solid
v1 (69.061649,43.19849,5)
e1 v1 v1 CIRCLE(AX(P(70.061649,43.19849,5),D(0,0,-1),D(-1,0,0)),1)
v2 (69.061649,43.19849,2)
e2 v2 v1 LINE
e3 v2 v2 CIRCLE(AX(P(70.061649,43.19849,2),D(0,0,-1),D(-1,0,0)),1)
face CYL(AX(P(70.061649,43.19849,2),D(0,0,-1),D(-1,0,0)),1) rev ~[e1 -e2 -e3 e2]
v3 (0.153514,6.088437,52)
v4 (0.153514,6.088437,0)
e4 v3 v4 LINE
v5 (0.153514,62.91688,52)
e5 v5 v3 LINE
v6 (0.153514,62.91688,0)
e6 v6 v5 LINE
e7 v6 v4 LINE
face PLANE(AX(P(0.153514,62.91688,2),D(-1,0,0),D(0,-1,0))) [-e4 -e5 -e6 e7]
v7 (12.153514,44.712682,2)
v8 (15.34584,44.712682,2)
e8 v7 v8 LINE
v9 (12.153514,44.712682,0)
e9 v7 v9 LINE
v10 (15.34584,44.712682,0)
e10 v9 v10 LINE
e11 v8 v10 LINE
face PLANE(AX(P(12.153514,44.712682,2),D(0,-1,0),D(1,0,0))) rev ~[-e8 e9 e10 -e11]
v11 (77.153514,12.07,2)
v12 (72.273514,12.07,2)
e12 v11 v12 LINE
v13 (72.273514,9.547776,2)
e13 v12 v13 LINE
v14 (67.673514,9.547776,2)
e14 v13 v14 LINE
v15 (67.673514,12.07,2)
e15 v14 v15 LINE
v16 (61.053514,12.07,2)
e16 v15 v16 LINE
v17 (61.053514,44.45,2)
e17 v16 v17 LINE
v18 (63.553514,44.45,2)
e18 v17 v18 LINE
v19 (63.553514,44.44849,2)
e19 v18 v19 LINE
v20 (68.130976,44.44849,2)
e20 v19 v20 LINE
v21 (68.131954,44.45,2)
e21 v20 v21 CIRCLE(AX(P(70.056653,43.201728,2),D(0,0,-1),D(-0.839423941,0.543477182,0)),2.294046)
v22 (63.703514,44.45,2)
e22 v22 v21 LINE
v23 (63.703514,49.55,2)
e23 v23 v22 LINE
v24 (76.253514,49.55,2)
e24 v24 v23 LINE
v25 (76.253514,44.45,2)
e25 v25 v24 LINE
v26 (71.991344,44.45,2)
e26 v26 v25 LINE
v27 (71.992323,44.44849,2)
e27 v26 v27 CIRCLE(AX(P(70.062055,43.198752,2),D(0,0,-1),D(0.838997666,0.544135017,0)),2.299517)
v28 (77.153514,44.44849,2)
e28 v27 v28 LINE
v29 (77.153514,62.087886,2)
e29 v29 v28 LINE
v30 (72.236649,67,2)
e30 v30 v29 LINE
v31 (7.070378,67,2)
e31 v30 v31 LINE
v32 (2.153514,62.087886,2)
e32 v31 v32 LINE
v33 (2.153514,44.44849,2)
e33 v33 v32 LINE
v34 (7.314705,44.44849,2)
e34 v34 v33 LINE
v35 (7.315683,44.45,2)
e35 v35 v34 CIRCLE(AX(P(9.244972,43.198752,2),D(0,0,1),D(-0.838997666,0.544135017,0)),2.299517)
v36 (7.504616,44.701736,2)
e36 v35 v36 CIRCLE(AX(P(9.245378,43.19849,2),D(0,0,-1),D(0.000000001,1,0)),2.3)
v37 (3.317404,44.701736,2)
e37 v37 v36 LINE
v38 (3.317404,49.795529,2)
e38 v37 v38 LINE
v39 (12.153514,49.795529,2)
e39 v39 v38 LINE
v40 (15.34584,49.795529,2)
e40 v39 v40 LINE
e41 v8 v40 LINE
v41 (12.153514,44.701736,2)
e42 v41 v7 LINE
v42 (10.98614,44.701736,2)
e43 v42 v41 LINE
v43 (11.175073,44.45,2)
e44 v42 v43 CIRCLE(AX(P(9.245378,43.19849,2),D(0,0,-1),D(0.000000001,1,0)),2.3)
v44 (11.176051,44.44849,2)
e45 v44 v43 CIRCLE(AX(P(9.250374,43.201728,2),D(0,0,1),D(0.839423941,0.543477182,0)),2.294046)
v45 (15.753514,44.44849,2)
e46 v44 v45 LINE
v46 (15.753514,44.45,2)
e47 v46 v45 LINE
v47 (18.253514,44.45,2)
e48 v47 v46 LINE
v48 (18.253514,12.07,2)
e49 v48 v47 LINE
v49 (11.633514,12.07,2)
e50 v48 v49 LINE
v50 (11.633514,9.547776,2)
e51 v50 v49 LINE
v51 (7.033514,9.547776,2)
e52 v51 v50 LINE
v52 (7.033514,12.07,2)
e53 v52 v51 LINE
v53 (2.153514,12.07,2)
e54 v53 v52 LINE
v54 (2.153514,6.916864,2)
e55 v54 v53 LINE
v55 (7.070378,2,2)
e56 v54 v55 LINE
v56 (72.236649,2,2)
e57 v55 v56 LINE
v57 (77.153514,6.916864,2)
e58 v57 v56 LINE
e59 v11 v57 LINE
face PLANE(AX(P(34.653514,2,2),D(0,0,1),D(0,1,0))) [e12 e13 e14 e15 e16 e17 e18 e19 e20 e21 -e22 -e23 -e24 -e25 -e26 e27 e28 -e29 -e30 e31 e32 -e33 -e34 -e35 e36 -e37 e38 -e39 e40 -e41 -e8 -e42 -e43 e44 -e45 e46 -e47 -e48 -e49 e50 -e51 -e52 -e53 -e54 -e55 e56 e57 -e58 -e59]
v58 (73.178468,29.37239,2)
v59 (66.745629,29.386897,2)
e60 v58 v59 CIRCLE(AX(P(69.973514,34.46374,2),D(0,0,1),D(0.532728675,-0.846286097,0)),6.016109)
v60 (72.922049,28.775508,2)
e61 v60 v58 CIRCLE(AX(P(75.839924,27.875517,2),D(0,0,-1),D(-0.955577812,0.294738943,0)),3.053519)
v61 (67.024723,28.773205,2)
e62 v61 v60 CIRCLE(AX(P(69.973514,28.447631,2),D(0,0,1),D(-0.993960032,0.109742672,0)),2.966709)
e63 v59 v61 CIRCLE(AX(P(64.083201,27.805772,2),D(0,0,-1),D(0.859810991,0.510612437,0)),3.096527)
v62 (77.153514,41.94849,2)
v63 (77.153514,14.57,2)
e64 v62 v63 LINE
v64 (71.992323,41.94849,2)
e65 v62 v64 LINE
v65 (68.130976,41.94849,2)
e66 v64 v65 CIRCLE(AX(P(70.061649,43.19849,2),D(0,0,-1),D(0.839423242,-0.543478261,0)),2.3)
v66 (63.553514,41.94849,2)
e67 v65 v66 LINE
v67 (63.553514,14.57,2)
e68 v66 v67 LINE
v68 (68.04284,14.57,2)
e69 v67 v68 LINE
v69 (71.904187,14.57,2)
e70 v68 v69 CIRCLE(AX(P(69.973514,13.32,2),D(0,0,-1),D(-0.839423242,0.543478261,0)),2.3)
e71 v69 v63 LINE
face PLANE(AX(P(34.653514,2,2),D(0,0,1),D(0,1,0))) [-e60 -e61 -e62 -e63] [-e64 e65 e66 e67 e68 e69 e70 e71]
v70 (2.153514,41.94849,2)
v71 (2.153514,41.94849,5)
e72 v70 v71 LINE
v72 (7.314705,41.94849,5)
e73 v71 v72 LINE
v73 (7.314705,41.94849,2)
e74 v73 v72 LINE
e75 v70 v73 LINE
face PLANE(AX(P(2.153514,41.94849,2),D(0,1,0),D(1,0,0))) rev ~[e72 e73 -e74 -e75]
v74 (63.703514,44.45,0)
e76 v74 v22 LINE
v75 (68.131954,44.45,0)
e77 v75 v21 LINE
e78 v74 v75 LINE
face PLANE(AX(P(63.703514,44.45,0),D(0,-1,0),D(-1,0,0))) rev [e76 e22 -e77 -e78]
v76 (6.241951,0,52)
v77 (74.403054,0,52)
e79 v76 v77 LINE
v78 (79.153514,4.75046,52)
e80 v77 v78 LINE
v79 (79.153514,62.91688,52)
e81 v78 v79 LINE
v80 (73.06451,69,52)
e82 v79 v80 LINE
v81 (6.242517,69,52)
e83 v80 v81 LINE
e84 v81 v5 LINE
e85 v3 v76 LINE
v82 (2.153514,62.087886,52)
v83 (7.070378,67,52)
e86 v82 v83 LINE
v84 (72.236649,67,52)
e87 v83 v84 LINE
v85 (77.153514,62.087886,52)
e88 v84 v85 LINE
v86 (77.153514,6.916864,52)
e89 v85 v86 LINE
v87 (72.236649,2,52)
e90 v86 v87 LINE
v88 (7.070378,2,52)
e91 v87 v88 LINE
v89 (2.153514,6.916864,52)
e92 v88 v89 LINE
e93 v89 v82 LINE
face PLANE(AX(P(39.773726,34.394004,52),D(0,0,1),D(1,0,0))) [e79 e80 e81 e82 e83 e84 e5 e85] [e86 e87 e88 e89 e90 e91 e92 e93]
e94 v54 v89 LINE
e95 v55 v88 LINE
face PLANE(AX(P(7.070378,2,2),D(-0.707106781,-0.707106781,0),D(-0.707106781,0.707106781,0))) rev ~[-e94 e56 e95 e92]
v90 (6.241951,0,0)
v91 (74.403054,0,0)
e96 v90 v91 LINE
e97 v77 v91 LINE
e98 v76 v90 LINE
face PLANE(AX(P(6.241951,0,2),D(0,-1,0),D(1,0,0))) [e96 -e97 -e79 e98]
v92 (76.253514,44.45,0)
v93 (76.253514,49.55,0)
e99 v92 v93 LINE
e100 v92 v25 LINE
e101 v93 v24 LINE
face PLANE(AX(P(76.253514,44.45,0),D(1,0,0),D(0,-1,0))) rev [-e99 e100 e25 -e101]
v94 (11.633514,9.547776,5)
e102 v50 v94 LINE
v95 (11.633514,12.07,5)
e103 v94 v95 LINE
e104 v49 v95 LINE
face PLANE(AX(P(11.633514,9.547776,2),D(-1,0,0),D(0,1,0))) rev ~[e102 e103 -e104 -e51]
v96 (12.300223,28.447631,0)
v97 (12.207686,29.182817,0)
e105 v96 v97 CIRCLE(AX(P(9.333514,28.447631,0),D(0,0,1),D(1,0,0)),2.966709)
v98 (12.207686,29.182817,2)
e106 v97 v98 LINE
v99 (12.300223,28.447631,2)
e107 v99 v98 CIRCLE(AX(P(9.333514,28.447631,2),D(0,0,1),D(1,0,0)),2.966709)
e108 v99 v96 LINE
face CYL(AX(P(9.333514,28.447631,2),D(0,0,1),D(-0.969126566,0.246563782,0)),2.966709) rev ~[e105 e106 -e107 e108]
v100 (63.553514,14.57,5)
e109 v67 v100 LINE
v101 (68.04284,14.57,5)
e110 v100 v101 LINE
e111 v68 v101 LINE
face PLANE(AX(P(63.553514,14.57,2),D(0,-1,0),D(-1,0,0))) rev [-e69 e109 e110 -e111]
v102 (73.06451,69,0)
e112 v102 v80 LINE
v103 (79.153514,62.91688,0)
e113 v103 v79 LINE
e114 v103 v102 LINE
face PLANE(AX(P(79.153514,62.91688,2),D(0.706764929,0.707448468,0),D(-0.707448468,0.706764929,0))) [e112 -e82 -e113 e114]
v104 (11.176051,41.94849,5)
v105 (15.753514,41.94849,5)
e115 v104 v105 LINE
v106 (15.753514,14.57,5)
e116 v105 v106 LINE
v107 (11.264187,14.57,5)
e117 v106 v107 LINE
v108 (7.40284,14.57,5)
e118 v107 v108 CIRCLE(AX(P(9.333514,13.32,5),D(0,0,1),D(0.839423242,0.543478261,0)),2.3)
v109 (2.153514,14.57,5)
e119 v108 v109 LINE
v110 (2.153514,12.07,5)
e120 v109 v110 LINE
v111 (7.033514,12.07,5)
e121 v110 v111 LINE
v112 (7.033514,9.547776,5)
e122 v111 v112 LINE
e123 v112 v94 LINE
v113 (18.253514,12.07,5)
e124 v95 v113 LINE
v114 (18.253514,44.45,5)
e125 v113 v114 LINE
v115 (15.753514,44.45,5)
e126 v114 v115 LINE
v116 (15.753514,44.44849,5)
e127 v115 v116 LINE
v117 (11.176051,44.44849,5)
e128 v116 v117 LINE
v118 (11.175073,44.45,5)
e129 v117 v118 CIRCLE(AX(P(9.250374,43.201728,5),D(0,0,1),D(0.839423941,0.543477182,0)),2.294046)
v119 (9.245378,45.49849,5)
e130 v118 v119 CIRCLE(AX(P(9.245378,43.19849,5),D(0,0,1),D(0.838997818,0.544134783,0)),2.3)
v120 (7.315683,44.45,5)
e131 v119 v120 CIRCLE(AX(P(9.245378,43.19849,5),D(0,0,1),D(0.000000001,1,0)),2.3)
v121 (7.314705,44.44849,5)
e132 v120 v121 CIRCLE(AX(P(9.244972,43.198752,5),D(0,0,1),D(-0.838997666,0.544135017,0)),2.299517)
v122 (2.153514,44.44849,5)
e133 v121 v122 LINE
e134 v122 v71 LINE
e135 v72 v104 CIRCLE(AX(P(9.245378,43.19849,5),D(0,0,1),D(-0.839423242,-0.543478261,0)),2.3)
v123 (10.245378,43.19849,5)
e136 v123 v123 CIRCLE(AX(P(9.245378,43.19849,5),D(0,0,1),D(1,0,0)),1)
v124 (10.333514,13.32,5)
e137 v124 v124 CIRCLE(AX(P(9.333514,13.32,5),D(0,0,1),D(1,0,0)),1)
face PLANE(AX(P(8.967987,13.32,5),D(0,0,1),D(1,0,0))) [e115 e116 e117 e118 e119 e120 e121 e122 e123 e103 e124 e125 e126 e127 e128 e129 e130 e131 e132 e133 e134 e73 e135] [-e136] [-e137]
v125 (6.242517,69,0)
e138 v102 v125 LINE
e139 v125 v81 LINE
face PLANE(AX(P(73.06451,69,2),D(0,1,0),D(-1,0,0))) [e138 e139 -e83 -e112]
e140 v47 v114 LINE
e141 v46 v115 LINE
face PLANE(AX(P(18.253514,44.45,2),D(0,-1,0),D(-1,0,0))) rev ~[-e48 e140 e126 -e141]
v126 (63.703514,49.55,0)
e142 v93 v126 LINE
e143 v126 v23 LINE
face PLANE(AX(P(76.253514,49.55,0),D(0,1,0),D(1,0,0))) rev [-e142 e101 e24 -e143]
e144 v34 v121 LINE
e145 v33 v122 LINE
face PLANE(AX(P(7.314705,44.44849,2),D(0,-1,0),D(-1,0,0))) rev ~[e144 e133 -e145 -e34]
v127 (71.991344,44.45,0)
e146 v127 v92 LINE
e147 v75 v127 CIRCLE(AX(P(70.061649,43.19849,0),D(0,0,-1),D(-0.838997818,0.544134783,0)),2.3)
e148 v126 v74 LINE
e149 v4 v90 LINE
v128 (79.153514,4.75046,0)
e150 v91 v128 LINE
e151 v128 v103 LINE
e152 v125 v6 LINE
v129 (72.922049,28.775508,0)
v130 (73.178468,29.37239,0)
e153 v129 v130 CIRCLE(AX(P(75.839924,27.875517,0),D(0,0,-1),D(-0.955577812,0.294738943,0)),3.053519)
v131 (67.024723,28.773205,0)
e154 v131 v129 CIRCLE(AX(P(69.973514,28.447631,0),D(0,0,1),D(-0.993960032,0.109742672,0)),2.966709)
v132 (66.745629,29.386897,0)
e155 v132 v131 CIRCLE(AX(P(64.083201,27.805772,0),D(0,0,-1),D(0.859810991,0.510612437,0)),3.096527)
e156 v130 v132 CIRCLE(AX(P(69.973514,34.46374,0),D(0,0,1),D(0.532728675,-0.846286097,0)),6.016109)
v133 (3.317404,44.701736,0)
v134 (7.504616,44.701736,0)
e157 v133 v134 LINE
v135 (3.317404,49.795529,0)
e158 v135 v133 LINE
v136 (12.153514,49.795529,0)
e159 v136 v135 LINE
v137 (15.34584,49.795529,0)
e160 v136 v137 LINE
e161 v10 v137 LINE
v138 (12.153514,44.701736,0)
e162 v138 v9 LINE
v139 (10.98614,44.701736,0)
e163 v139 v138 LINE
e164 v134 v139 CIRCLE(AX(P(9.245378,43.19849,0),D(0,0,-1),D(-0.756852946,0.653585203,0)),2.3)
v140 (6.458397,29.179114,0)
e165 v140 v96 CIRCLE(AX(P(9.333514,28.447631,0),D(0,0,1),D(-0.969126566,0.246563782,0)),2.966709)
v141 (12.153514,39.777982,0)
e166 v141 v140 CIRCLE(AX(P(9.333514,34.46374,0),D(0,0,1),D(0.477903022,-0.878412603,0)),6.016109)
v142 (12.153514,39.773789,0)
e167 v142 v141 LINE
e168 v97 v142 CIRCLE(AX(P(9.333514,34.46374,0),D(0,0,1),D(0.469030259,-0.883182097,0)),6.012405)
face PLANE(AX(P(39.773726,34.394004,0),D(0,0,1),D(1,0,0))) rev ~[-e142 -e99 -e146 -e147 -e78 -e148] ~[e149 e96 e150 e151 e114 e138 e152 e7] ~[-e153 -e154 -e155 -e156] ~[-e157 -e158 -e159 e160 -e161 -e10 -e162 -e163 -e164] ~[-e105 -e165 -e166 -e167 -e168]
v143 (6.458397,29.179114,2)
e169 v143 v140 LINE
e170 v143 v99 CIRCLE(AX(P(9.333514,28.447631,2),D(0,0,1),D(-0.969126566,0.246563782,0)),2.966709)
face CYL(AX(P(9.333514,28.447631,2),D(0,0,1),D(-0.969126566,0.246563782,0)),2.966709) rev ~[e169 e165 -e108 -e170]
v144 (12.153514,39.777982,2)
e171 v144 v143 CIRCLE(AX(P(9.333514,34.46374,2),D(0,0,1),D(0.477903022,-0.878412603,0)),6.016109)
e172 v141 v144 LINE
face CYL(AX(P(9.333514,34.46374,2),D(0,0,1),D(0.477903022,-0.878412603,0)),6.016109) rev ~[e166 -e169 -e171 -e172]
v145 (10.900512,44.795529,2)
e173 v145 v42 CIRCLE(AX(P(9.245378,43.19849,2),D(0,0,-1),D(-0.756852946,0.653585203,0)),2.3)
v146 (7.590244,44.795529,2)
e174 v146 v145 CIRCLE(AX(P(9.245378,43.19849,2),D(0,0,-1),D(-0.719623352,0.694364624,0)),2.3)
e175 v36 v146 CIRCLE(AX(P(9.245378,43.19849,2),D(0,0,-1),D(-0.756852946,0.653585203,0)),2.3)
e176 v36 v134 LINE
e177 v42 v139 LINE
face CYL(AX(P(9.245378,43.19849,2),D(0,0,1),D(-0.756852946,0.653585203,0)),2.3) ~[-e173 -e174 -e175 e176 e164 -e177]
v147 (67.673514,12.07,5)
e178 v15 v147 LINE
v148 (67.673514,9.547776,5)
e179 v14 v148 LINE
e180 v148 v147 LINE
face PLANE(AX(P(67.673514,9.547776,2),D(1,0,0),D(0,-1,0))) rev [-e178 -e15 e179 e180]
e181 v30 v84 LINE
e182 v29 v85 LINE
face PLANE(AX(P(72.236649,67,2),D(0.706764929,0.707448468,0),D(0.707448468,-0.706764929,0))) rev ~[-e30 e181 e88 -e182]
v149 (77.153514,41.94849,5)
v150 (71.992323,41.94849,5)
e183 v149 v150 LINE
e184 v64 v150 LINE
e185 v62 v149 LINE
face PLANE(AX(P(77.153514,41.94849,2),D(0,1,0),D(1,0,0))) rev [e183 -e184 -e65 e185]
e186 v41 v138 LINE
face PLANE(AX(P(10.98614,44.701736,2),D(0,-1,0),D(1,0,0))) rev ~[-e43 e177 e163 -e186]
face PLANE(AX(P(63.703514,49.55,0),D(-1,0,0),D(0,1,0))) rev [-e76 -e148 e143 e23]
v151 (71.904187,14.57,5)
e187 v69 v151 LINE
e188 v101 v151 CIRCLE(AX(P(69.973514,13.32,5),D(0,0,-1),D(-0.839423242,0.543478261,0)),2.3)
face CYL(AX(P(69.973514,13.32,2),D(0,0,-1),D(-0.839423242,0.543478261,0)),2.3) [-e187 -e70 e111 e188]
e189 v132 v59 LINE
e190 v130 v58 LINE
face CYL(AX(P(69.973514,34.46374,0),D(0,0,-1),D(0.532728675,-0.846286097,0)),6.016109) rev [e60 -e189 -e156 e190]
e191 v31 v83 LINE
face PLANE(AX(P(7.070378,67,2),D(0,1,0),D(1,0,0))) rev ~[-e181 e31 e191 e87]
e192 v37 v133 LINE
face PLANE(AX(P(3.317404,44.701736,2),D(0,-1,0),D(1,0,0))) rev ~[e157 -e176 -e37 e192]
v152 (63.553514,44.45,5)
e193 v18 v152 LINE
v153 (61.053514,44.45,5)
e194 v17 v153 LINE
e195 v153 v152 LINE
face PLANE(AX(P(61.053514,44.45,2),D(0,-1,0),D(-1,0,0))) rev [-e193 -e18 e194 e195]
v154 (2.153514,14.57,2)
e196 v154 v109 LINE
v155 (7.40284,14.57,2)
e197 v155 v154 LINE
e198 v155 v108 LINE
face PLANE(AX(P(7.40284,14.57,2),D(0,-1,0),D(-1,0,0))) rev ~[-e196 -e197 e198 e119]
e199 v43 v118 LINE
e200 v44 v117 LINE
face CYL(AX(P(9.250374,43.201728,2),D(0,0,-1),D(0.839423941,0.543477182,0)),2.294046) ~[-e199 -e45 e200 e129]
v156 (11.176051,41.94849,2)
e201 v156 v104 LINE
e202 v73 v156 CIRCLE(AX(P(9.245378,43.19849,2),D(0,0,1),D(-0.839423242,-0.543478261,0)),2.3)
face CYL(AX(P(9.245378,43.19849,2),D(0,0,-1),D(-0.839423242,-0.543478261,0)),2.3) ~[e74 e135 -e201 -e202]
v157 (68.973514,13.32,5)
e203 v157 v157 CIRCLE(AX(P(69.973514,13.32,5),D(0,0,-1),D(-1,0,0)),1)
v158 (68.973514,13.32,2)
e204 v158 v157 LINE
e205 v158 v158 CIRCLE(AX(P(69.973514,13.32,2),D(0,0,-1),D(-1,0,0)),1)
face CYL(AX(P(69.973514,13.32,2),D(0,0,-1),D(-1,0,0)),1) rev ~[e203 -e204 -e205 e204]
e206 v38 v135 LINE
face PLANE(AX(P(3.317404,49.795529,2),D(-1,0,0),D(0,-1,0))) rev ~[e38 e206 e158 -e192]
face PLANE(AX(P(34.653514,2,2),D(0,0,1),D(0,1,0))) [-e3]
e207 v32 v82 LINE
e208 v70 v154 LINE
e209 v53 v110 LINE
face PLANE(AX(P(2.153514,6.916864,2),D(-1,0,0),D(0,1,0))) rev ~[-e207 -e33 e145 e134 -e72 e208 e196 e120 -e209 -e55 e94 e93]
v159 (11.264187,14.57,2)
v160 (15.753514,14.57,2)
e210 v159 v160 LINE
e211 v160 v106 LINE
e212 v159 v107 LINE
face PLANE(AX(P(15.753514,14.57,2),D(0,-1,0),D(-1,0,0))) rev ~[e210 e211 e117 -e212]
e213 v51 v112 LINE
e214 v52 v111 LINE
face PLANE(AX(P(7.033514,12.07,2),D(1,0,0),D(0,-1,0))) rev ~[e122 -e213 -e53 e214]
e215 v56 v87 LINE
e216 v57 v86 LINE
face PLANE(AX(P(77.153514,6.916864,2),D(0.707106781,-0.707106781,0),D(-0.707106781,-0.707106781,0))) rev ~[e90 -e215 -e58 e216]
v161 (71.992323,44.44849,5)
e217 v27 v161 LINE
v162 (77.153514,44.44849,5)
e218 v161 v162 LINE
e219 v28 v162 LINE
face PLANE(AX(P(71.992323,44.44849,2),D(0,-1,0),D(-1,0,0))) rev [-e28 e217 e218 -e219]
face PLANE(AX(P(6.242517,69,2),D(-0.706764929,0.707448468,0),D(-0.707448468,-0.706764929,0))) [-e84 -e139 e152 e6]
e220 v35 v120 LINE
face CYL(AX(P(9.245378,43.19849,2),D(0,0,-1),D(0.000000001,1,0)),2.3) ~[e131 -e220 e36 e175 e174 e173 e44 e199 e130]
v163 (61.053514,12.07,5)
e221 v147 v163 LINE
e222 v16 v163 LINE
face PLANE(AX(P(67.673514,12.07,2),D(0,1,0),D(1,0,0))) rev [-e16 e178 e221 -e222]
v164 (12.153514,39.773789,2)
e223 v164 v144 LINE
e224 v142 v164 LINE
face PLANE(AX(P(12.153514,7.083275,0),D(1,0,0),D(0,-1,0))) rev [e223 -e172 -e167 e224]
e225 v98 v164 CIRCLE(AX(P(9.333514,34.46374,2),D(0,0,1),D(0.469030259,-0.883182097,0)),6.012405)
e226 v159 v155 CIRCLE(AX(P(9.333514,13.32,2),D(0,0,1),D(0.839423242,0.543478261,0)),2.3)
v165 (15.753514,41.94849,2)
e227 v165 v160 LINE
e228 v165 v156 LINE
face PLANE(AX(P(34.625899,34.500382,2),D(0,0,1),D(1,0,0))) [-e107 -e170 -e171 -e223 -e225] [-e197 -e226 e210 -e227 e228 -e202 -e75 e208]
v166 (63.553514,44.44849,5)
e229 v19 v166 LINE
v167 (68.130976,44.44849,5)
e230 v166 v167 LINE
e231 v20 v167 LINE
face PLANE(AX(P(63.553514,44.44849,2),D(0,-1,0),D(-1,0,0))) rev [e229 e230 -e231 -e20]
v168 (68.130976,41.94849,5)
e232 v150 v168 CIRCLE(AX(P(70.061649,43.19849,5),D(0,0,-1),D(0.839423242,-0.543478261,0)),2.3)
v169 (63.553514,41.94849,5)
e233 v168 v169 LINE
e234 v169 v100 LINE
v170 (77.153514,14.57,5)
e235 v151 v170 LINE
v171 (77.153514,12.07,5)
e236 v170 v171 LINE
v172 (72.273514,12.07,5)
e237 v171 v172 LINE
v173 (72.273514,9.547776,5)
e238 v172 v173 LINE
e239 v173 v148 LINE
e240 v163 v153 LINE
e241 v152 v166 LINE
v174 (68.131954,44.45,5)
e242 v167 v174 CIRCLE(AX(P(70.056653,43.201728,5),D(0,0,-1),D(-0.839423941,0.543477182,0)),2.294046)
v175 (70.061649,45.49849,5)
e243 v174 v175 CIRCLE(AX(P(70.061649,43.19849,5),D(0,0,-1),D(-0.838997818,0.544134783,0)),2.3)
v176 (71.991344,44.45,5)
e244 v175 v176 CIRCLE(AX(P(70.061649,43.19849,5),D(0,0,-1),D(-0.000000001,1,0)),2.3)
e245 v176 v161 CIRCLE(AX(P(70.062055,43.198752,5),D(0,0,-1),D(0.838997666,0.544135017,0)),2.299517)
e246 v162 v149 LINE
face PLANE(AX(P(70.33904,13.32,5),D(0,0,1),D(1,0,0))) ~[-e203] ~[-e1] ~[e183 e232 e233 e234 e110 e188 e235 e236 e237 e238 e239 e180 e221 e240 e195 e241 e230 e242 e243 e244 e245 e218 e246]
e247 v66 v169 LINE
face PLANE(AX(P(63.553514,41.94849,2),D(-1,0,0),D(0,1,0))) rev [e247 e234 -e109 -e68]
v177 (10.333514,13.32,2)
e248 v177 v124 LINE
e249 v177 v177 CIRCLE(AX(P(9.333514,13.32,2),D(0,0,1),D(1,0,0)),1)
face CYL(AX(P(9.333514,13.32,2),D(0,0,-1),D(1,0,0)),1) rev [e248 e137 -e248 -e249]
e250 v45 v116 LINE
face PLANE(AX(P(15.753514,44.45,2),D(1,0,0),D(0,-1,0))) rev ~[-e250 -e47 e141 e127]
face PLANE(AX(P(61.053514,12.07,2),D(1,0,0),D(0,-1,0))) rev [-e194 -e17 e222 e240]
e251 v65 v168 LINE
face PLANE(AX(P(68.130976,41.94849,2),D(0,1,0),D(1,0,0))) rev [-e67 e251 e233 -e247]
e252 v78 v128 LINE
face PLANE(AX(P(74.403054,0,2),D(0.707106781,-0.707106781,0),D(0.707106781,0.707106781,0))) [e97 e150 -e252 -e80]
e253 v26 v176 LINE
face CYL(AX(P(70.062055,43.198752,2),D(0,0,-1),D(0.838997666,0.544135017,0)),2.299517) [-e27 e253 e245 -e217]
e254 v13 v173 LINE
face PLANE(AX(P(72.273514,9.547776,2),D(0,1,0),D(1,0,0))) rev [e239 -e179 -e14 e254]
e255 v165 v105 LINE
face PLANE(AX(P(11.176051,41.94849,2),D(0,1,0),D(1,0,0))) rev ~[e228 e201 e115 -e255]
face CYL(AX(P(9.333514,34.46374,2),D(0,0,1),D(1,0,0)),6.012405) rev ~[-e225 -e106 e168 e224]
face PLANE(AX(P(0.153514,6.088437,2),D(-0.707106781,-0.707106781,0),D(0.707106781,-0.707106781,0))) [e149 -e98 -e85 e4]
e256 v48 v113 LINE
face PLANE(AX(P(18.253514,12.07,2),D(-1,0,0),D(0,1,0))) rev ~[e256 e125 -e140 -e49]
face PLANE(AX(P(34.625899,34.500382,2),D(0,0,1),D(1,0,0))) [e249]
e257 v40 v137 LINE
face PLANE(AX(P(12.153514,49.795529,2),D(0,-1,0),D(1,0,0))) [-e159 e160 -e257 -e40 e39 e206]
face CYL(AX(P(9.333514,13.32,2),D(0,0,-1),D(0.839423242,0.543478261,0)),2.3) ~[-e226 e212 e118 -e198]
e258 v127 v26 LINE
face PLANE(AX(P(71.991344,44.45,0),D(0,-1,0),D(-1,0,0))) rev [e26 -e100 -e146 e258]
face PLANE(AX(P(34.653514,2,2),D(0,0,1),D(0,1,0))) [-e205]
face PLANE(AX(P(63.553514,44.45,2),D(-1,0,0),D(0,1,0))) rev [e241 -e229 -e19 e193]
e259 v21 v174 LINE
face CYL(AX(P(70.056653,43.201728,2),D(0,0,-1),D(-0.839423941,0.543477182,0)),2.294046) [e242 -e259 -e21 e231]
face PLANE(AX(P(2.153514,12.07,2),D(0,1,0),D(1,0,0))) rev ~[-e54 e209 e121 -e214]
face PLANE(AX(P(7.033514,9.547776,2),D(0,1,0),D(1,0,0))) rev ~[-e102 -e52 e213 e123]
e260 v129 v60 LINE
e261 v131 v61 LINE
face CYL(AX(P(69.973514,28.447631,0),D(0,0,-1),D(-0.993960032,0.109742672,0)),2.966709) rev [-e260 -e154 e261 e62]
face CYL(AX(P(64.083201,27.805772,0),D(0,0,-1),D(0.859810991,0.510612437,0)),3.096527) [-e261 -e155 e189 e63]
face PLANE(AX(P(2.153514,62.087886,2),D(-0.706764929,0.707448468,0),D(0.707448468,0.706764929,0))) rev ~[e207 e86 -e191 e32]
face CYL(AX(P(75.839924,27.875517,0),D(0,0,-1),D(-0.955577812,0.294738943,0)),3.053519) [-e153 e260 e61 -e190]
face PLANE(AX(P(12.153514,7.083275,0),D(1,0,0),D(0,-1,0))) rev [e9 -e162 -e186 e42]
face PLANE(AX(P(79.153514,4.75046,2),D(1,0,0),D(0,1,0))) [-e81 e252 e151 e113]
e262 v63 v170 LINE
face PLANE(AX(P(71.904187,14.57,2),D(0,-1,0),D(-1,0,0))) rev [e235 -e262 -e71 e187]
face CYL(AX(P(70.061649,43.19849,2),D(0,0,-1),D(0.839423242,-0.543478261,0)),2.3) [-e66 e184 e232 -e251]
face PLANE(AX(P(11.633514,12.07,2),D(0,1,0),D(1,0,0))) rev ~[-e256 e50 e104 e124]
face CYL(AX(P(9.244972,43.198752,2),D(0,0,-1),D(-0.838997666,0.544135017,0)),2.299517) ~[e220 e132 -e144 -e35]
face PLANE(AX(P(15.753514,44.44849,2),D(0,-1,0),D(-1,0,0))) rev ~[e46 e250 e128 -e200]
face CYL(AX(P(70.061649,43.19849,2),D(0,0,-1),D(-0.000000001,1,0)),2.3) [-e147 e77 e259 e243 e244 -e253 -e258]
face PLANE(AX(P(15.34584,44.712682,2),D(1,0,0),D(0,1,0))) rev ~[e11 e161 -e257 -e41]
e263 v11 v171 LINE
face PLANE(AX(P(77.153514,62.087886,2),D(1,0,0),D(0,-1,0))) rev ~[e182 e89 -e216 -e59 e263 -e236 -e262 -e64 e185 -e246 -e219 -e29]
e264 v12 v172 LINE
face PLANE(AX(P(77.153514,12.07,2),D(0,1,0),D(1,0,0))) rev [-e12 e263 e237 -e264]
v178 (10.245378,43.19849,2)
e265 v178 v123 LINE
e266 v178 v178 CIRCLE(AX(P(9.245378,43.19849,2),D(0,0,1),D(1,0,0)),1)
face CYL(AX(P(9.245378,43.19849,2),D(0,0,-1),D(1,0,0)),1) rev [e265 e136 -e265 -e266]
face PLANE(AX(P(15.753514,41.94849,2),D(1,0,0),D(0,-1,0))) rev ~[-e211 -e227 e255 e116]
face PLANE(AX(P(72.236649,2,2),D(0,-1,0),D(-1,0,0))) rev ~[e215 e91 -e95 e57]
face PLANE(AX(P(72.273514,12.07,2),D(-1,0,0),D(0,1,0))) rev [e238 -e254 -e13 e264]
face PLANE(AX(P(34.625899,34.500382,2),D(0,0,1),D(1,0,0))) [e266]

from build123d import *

# Parameters (mm, degrees)
BOSS_EXTRUDE3_DEPTH       = 2
SKETCH7_R                 = 1
SKETCH7_W                 = 2.5
SKETCH7_H                 = 2.5
BOSS_EXTRUDE5_DEPTH       = 3
SKETCH15_R                = 6.016109345
SKETCH15_R_2              = 2.966709341
CUT_EXTRUDE5_DEPTH        = 3
CUT_EXTRUDE6_DEPTH        = 3
CUT_EXTRUDE7_DEPTH        = 10
SKETCH31_W                = 2
SKETCH31_H                = 65
BOSS_EXTRUDE8_DEPTH       = 5
SKETCH36_R                = 6.012405266
CUT_EXTRUDE11_DEPTH       = 5
SKETCH37_R                = 2.966709341
CUT_EXTRUDE12_DEPTH       = 5
SKETCH38_W                = 3.192326617
SKETCH38_H                = 5.082846429
CUT_EXTRUDE13_DEPTH       = 5
BOSS_EXTRUDE13_DEPTH      = 50
BOSS_EXTRUDE13_DEPTH_BACK = 2


with BuildPart() as part:
    # Sketch2 → Boss-Extrude3 (new body)
    with BuildSketch(Plane.XY):
        Polygon((62.078732257, 67), (7.070378023, 67), (2.153513577, 62.087886246), (2.153513577, 6.916864445), (7.070378023, 2), (62.078732257, 2), (67.153513577, 7.083274694), (67.153513577, 61.921636784), align=None)
        with BuildLine():
            ThreePointArc((12.561398281, 29.386897281), (12.405099811, 29.087669445), (12.28230409, 28.773205265))
            ThreePointArc((12.28230409, 28.773205265), (9.332354964, 25.48092154), (6.384978263, 28.775508397))
            ThreePointArc((6.384978263, 28.775508397), (6.272687262, 29.080787813), (6.128559615, 29.372390302))
            ThreePointArc((6.128559615, 29.372390302), (9.319946418, 40.479834047), (12.561398281, 29.386897281))
        make_face(mode=Mode.SUBTRACT)
        with BuildLine():
            Line((7.315683042, 44.45), (3.053513577, 44.45))
            Line((3.053513577, 44.45), (3.053513577, 49.55))
            Line((3.053513577, 49.55), (15.603513577, 49.55))
            Line((15.603513577, 49.55), (15.603513577, 44.45))
            Line((15.603513577, 44.45), (11.175073004, 44.45))
            ThreePointArc((11.175073004, 44.45), (9.245378023, 45.49849), (7.315683042, 44.45))
        make_face(mode=Mode.SUBTRACT)
    boss_extrude3 = extrude(amount=BOSS_EXTRUDE3_DEPTH)

    # Sketch7 → Boss-Extrude5 (add)
    with BuildSketch(Plane.XY.offset(2)):
        with BuildLine():
            Line((15.753513577, 14.57), (11.264187035, 14.57))
            ThreePointArc((11.264187035, 14.57), (9.333513577, 15.62), (7.40284012, 14.57))
            Line((7.40284012, 14.57), (2.153513577, 14.57))
            Line((2.153513577, 14.57), (2.153513577, 12.07))
            Line((2.153513577, 12.07), (7.033513577, 12.07))
            Line((7.033513577, 12.07), (7.40284012, 12.07))
            ThreePointArc((7.40284012, 12.07), (9.333513577, 11.02), (11.264187035, 12.07))
            Line((11.264187035, 12.07), (11.633513577, 12.07))
            Line((11.633513577, 12.07), (15.753513577, 12.07))
            Line((15.753513577, 12.07), (15.753513577, 14.57))
        make_face()
        with Locations((9.333513577, 13.32)):
            Circle(SKETCH7_R, mode=Mode.SUBTRACT)
        with BuildLine():
            Line((11.633513577, 9.547776159), (11.633513577, 12.07))
            Line((11.633513577, 12.07), (11.264187035, 12.07))
            ThreePointArc((11.264187035, 12.07), (9.333513577, 11.02), (7.40284012, 12.07))
            Line((7.40284012, 12.07), (7.033513577, 12.07))
            Line((7.033513577, 12.07), (7.033513577, 9.547776159))
            Line((7.033513577, 9.547776159), (11.633513577, 9.547776159))
        make_face()
        with Locations((17.003513577, 13.32)):
            Rectangle(SKETCH7_W, SKETCH7_H)
        with BuildLine():
            Line((15.753513577, 16.534568208), (15.753513577, 14.57))
            Line((15.753513577, 14.57), (18.253513577, 14.57))
            Line((18.253513577, 14.57), (18.253513577, 16.534568208))
            Line((18.253513577, 16.534568208), (18.253513577, 44.45))
            Line((18.253513577, 44.45), (15.753513577, 44.45))
            Line((15.753513577, 44.45), (15.753513577, 44.44849))
            Line((15.753513577, 44.44849), (11.17605148, 44.44849))
            ThreePointArc((11.17605148, 44.44849), (11.17556239, 44.449245096), (11.175073004, 44.45))
            ThreePointArc((11.175073004, 44.45), (10.343450652, 45.219439406), (9.245378023, 45.49849))
            ThreePointArc((9.245378023, 45.49849), (8.147305393, 45.219439406), (7.315683042, 44.45))
            ThreePointArc((7.315683042, 44.45), (7.315193656, 44.449245096), (7.314704565, 44.44849))
            Line((7.314704565, 44.44849), (2.153513577, 44.44849))
            Line((2.153513577, 44.44849), (2.153513577, 41.94849))
            Line((2.153513577, 41.94849), (7.314704565, 41.94849))
            ThreePointArc((7.314704565, 41.94849), (9.245378023, 40.89849), (11.17605148, 41.94849))
            Line((11.17605148, 41.94849), (15.753513577, 41.94849))
            Line((15.753513577, 41.94849), (15.753513577, 16.534568208))
        make_face()
        with Locations((9.245378023, 43.19849)):
            Circle(SKETCH7_R, mode=Mode.SUBTRACT)
    boss_extrude5 = extrude(amount=BOSS_EXTRUDE5_DEPTH)

    # Mirror4: Boss-Extrude3, Boss-Extrude5 across plane
    add(boss_extrude3.mirror(Plane.ZY.offset(-34.653513577)))
    add(boss_extrude5.mirror(Plane.ZY.offset(-34.653513577)))

    # Sketch15 → Cut-Extrude5 (cut)
    with BuildSketch(Plane.XY.offset(2)):
        with Locations((9.333513577, 34.46374)):
            Circle(SKETCH15_R)
        with Locations((9.333513577, 28.447630655)):
            Circle(SKETCH15_R_2)
    cut_extrude5 = extrude(amount=-CUT_EXTRUDE5_DEPTH, mode=Mode.SUBTRACT)

    # Sketch21 → Cut-Extrude6 (cut)
    with BuildSketch(Plane.XY.offset(2)):
        with BuildLine():
            Line((3.317404233, 44.701735967), (7.504616246, 44.701735967))
            ThreePointArc((7.504616246, 44.701735967), (9.245378023, 45.49849), (10.986139799, 44.701735967))
            Line((10.986139799, 44.701735967), (15.349622922, 44.701735967))
            Line((15.349622922, 44.701735967), (15.349622922, 49.701735967))
            Line((15.349622922, 49.701735967), (3.317404233, 49.701735967))
            Line((3.317404233, 49.701735967), (3.317404233, 44.701735967))
        make_face()
    extrude(amount=-CUT_EXTRUDE6_DEPTH, mode=Mode.SUBTRACT)

    # Mirror5: Cut-Extrude5 across plane
    add(cut_extrude5.mirror(Plane.ZY.offset(-34.653513577)), mode=Mode.SUBTRACT)

    # Sketch29 → Cut-Extrude7 (cut)
    with BuildSketch(Plane.XY.offset(2)):
        with BuildLine():
            Line((3.317404233, 44.795528635), (7.590244313, 44.795528635))
            ThreePointArc((7.590244313, 44.795528635), (9.245378023, 45.49849), (10.900511733, 44.795528635))
            Line((10.900511733, 44.795528635), (15.349622922, 44.795528635))
            Line((15.349622922, 44.795528635), (15.349622922, 49.795528635))
            Line((15.349622922, 49.795528635), (3.317404233, 49.795528635))
            Line((3.317404233, 49.795528635), (3.317404233, 44.795528635))
        make_face()
    cut_extrude7 = extrude(amount=-CUT_EXTRUDE7_DEPTH, mode=Mode.SUBTRACT)

    # Mirror9: Cut-Extrude7 across plane
    add(cut_extrude7.mirror(Plane.ZY.offset(-34.653513577)), mode=Mode.SUBTRACT)

    # SurfaceCut1
    split(bisect_by=Plane.ZY.offset(-34.653513577), keep=Keep.TOP)

    # Sketch31 → Boss-Extrude8 (add)
    with BuildSketch(Plane(origin=(34.653513577, 0, 0), x_dir=(0, 0, -1), z_dir=(1, 0, 0))):
        with Locations((-1, 34.5)):
            Rectangle(SKETCH31_W, SKETCH31_H)
    extrude(amount=BOSS_EXTRUDE8_DEPTH)

    # Mirror13: Boss-Extrude3, Boss-Extrude5 across plane
    add(boss_extrude3.mirror(Plane(origin=(39.653513577, 0, 0), x_dir=(0, 0, 1), z_dir=(1, 0, 0))))
    add(boss_extrude5.mirror(Plane(origin=(39.653513577, 0, 0), x_dir=(0, 0, 1), z_dir=(1, 0, 0))))

    # Sketch36 → Cut-Extrude11 (cut)
    with BuildSketch(Plane.XY.offset(2)):
        with Locations((9.333513577, 34.46374)):
            Circle(SKETCH36_R)
    extrude(amount=-CUT_EXTRUDE11_DEPTH, mode=Mode.SUBTRACT)

    # Sketch37 → Cut-Extrude12 (cut)
    with BuildSketch(Plane.XY.offset(2)):
        with Locations((9.333513577, 28.447630655)):
            Circle(SKETCH37_R)
    extrude(amount=-CUT_EXTRUDE12_DEPTH, mode=Mode.SUBTRACT)

    # Sketch38 → Cut-Extrude13 (cut)
    with BuildSketch(Plane.XY.offset(2)):
        with Locations((13.749676886, 47.254105421)):
            Rectangle(SKETCH38_W, SKETCH38_H)
    extrude(amount=-CUT_EXTRUDE13_DEPTH, mode=Mode.SUBTRACT)

    # Sketch40 → Boss-Extrude13 (add, two sides)
    with BuildSketch(Plane.XY.offset(2)) as boss_extrude13_sk:
        Polygon((79.153513577, 4.750459826), (79.153513577, 62.91687969), (73.064510051, 69), (6.242517104, 69), (0.153513577, 62.91687969), (0.153513577, 6.088437321), (6.241950898, 0), (74.403053751, 0), align=None)
        Polygon((7.070378023, 67), (72.236649132, 67), (77.153513577, 62.087886246), (77.153513577, 6.916864445), (72.236649132, 2), (7.070378023, 2), (2.153513577, 6.916864445), (2.153513577, 62.087886246), align=None, mode=Mode.SUBTRACT)
    extrude(amount=BOSS_EXTRUDE13_DEPTH)
    extrude(boss_extrude13_sk.sketch, amount=-BOSS_EXTRUDE13_DEPTH_BACK)


solid = part.part
